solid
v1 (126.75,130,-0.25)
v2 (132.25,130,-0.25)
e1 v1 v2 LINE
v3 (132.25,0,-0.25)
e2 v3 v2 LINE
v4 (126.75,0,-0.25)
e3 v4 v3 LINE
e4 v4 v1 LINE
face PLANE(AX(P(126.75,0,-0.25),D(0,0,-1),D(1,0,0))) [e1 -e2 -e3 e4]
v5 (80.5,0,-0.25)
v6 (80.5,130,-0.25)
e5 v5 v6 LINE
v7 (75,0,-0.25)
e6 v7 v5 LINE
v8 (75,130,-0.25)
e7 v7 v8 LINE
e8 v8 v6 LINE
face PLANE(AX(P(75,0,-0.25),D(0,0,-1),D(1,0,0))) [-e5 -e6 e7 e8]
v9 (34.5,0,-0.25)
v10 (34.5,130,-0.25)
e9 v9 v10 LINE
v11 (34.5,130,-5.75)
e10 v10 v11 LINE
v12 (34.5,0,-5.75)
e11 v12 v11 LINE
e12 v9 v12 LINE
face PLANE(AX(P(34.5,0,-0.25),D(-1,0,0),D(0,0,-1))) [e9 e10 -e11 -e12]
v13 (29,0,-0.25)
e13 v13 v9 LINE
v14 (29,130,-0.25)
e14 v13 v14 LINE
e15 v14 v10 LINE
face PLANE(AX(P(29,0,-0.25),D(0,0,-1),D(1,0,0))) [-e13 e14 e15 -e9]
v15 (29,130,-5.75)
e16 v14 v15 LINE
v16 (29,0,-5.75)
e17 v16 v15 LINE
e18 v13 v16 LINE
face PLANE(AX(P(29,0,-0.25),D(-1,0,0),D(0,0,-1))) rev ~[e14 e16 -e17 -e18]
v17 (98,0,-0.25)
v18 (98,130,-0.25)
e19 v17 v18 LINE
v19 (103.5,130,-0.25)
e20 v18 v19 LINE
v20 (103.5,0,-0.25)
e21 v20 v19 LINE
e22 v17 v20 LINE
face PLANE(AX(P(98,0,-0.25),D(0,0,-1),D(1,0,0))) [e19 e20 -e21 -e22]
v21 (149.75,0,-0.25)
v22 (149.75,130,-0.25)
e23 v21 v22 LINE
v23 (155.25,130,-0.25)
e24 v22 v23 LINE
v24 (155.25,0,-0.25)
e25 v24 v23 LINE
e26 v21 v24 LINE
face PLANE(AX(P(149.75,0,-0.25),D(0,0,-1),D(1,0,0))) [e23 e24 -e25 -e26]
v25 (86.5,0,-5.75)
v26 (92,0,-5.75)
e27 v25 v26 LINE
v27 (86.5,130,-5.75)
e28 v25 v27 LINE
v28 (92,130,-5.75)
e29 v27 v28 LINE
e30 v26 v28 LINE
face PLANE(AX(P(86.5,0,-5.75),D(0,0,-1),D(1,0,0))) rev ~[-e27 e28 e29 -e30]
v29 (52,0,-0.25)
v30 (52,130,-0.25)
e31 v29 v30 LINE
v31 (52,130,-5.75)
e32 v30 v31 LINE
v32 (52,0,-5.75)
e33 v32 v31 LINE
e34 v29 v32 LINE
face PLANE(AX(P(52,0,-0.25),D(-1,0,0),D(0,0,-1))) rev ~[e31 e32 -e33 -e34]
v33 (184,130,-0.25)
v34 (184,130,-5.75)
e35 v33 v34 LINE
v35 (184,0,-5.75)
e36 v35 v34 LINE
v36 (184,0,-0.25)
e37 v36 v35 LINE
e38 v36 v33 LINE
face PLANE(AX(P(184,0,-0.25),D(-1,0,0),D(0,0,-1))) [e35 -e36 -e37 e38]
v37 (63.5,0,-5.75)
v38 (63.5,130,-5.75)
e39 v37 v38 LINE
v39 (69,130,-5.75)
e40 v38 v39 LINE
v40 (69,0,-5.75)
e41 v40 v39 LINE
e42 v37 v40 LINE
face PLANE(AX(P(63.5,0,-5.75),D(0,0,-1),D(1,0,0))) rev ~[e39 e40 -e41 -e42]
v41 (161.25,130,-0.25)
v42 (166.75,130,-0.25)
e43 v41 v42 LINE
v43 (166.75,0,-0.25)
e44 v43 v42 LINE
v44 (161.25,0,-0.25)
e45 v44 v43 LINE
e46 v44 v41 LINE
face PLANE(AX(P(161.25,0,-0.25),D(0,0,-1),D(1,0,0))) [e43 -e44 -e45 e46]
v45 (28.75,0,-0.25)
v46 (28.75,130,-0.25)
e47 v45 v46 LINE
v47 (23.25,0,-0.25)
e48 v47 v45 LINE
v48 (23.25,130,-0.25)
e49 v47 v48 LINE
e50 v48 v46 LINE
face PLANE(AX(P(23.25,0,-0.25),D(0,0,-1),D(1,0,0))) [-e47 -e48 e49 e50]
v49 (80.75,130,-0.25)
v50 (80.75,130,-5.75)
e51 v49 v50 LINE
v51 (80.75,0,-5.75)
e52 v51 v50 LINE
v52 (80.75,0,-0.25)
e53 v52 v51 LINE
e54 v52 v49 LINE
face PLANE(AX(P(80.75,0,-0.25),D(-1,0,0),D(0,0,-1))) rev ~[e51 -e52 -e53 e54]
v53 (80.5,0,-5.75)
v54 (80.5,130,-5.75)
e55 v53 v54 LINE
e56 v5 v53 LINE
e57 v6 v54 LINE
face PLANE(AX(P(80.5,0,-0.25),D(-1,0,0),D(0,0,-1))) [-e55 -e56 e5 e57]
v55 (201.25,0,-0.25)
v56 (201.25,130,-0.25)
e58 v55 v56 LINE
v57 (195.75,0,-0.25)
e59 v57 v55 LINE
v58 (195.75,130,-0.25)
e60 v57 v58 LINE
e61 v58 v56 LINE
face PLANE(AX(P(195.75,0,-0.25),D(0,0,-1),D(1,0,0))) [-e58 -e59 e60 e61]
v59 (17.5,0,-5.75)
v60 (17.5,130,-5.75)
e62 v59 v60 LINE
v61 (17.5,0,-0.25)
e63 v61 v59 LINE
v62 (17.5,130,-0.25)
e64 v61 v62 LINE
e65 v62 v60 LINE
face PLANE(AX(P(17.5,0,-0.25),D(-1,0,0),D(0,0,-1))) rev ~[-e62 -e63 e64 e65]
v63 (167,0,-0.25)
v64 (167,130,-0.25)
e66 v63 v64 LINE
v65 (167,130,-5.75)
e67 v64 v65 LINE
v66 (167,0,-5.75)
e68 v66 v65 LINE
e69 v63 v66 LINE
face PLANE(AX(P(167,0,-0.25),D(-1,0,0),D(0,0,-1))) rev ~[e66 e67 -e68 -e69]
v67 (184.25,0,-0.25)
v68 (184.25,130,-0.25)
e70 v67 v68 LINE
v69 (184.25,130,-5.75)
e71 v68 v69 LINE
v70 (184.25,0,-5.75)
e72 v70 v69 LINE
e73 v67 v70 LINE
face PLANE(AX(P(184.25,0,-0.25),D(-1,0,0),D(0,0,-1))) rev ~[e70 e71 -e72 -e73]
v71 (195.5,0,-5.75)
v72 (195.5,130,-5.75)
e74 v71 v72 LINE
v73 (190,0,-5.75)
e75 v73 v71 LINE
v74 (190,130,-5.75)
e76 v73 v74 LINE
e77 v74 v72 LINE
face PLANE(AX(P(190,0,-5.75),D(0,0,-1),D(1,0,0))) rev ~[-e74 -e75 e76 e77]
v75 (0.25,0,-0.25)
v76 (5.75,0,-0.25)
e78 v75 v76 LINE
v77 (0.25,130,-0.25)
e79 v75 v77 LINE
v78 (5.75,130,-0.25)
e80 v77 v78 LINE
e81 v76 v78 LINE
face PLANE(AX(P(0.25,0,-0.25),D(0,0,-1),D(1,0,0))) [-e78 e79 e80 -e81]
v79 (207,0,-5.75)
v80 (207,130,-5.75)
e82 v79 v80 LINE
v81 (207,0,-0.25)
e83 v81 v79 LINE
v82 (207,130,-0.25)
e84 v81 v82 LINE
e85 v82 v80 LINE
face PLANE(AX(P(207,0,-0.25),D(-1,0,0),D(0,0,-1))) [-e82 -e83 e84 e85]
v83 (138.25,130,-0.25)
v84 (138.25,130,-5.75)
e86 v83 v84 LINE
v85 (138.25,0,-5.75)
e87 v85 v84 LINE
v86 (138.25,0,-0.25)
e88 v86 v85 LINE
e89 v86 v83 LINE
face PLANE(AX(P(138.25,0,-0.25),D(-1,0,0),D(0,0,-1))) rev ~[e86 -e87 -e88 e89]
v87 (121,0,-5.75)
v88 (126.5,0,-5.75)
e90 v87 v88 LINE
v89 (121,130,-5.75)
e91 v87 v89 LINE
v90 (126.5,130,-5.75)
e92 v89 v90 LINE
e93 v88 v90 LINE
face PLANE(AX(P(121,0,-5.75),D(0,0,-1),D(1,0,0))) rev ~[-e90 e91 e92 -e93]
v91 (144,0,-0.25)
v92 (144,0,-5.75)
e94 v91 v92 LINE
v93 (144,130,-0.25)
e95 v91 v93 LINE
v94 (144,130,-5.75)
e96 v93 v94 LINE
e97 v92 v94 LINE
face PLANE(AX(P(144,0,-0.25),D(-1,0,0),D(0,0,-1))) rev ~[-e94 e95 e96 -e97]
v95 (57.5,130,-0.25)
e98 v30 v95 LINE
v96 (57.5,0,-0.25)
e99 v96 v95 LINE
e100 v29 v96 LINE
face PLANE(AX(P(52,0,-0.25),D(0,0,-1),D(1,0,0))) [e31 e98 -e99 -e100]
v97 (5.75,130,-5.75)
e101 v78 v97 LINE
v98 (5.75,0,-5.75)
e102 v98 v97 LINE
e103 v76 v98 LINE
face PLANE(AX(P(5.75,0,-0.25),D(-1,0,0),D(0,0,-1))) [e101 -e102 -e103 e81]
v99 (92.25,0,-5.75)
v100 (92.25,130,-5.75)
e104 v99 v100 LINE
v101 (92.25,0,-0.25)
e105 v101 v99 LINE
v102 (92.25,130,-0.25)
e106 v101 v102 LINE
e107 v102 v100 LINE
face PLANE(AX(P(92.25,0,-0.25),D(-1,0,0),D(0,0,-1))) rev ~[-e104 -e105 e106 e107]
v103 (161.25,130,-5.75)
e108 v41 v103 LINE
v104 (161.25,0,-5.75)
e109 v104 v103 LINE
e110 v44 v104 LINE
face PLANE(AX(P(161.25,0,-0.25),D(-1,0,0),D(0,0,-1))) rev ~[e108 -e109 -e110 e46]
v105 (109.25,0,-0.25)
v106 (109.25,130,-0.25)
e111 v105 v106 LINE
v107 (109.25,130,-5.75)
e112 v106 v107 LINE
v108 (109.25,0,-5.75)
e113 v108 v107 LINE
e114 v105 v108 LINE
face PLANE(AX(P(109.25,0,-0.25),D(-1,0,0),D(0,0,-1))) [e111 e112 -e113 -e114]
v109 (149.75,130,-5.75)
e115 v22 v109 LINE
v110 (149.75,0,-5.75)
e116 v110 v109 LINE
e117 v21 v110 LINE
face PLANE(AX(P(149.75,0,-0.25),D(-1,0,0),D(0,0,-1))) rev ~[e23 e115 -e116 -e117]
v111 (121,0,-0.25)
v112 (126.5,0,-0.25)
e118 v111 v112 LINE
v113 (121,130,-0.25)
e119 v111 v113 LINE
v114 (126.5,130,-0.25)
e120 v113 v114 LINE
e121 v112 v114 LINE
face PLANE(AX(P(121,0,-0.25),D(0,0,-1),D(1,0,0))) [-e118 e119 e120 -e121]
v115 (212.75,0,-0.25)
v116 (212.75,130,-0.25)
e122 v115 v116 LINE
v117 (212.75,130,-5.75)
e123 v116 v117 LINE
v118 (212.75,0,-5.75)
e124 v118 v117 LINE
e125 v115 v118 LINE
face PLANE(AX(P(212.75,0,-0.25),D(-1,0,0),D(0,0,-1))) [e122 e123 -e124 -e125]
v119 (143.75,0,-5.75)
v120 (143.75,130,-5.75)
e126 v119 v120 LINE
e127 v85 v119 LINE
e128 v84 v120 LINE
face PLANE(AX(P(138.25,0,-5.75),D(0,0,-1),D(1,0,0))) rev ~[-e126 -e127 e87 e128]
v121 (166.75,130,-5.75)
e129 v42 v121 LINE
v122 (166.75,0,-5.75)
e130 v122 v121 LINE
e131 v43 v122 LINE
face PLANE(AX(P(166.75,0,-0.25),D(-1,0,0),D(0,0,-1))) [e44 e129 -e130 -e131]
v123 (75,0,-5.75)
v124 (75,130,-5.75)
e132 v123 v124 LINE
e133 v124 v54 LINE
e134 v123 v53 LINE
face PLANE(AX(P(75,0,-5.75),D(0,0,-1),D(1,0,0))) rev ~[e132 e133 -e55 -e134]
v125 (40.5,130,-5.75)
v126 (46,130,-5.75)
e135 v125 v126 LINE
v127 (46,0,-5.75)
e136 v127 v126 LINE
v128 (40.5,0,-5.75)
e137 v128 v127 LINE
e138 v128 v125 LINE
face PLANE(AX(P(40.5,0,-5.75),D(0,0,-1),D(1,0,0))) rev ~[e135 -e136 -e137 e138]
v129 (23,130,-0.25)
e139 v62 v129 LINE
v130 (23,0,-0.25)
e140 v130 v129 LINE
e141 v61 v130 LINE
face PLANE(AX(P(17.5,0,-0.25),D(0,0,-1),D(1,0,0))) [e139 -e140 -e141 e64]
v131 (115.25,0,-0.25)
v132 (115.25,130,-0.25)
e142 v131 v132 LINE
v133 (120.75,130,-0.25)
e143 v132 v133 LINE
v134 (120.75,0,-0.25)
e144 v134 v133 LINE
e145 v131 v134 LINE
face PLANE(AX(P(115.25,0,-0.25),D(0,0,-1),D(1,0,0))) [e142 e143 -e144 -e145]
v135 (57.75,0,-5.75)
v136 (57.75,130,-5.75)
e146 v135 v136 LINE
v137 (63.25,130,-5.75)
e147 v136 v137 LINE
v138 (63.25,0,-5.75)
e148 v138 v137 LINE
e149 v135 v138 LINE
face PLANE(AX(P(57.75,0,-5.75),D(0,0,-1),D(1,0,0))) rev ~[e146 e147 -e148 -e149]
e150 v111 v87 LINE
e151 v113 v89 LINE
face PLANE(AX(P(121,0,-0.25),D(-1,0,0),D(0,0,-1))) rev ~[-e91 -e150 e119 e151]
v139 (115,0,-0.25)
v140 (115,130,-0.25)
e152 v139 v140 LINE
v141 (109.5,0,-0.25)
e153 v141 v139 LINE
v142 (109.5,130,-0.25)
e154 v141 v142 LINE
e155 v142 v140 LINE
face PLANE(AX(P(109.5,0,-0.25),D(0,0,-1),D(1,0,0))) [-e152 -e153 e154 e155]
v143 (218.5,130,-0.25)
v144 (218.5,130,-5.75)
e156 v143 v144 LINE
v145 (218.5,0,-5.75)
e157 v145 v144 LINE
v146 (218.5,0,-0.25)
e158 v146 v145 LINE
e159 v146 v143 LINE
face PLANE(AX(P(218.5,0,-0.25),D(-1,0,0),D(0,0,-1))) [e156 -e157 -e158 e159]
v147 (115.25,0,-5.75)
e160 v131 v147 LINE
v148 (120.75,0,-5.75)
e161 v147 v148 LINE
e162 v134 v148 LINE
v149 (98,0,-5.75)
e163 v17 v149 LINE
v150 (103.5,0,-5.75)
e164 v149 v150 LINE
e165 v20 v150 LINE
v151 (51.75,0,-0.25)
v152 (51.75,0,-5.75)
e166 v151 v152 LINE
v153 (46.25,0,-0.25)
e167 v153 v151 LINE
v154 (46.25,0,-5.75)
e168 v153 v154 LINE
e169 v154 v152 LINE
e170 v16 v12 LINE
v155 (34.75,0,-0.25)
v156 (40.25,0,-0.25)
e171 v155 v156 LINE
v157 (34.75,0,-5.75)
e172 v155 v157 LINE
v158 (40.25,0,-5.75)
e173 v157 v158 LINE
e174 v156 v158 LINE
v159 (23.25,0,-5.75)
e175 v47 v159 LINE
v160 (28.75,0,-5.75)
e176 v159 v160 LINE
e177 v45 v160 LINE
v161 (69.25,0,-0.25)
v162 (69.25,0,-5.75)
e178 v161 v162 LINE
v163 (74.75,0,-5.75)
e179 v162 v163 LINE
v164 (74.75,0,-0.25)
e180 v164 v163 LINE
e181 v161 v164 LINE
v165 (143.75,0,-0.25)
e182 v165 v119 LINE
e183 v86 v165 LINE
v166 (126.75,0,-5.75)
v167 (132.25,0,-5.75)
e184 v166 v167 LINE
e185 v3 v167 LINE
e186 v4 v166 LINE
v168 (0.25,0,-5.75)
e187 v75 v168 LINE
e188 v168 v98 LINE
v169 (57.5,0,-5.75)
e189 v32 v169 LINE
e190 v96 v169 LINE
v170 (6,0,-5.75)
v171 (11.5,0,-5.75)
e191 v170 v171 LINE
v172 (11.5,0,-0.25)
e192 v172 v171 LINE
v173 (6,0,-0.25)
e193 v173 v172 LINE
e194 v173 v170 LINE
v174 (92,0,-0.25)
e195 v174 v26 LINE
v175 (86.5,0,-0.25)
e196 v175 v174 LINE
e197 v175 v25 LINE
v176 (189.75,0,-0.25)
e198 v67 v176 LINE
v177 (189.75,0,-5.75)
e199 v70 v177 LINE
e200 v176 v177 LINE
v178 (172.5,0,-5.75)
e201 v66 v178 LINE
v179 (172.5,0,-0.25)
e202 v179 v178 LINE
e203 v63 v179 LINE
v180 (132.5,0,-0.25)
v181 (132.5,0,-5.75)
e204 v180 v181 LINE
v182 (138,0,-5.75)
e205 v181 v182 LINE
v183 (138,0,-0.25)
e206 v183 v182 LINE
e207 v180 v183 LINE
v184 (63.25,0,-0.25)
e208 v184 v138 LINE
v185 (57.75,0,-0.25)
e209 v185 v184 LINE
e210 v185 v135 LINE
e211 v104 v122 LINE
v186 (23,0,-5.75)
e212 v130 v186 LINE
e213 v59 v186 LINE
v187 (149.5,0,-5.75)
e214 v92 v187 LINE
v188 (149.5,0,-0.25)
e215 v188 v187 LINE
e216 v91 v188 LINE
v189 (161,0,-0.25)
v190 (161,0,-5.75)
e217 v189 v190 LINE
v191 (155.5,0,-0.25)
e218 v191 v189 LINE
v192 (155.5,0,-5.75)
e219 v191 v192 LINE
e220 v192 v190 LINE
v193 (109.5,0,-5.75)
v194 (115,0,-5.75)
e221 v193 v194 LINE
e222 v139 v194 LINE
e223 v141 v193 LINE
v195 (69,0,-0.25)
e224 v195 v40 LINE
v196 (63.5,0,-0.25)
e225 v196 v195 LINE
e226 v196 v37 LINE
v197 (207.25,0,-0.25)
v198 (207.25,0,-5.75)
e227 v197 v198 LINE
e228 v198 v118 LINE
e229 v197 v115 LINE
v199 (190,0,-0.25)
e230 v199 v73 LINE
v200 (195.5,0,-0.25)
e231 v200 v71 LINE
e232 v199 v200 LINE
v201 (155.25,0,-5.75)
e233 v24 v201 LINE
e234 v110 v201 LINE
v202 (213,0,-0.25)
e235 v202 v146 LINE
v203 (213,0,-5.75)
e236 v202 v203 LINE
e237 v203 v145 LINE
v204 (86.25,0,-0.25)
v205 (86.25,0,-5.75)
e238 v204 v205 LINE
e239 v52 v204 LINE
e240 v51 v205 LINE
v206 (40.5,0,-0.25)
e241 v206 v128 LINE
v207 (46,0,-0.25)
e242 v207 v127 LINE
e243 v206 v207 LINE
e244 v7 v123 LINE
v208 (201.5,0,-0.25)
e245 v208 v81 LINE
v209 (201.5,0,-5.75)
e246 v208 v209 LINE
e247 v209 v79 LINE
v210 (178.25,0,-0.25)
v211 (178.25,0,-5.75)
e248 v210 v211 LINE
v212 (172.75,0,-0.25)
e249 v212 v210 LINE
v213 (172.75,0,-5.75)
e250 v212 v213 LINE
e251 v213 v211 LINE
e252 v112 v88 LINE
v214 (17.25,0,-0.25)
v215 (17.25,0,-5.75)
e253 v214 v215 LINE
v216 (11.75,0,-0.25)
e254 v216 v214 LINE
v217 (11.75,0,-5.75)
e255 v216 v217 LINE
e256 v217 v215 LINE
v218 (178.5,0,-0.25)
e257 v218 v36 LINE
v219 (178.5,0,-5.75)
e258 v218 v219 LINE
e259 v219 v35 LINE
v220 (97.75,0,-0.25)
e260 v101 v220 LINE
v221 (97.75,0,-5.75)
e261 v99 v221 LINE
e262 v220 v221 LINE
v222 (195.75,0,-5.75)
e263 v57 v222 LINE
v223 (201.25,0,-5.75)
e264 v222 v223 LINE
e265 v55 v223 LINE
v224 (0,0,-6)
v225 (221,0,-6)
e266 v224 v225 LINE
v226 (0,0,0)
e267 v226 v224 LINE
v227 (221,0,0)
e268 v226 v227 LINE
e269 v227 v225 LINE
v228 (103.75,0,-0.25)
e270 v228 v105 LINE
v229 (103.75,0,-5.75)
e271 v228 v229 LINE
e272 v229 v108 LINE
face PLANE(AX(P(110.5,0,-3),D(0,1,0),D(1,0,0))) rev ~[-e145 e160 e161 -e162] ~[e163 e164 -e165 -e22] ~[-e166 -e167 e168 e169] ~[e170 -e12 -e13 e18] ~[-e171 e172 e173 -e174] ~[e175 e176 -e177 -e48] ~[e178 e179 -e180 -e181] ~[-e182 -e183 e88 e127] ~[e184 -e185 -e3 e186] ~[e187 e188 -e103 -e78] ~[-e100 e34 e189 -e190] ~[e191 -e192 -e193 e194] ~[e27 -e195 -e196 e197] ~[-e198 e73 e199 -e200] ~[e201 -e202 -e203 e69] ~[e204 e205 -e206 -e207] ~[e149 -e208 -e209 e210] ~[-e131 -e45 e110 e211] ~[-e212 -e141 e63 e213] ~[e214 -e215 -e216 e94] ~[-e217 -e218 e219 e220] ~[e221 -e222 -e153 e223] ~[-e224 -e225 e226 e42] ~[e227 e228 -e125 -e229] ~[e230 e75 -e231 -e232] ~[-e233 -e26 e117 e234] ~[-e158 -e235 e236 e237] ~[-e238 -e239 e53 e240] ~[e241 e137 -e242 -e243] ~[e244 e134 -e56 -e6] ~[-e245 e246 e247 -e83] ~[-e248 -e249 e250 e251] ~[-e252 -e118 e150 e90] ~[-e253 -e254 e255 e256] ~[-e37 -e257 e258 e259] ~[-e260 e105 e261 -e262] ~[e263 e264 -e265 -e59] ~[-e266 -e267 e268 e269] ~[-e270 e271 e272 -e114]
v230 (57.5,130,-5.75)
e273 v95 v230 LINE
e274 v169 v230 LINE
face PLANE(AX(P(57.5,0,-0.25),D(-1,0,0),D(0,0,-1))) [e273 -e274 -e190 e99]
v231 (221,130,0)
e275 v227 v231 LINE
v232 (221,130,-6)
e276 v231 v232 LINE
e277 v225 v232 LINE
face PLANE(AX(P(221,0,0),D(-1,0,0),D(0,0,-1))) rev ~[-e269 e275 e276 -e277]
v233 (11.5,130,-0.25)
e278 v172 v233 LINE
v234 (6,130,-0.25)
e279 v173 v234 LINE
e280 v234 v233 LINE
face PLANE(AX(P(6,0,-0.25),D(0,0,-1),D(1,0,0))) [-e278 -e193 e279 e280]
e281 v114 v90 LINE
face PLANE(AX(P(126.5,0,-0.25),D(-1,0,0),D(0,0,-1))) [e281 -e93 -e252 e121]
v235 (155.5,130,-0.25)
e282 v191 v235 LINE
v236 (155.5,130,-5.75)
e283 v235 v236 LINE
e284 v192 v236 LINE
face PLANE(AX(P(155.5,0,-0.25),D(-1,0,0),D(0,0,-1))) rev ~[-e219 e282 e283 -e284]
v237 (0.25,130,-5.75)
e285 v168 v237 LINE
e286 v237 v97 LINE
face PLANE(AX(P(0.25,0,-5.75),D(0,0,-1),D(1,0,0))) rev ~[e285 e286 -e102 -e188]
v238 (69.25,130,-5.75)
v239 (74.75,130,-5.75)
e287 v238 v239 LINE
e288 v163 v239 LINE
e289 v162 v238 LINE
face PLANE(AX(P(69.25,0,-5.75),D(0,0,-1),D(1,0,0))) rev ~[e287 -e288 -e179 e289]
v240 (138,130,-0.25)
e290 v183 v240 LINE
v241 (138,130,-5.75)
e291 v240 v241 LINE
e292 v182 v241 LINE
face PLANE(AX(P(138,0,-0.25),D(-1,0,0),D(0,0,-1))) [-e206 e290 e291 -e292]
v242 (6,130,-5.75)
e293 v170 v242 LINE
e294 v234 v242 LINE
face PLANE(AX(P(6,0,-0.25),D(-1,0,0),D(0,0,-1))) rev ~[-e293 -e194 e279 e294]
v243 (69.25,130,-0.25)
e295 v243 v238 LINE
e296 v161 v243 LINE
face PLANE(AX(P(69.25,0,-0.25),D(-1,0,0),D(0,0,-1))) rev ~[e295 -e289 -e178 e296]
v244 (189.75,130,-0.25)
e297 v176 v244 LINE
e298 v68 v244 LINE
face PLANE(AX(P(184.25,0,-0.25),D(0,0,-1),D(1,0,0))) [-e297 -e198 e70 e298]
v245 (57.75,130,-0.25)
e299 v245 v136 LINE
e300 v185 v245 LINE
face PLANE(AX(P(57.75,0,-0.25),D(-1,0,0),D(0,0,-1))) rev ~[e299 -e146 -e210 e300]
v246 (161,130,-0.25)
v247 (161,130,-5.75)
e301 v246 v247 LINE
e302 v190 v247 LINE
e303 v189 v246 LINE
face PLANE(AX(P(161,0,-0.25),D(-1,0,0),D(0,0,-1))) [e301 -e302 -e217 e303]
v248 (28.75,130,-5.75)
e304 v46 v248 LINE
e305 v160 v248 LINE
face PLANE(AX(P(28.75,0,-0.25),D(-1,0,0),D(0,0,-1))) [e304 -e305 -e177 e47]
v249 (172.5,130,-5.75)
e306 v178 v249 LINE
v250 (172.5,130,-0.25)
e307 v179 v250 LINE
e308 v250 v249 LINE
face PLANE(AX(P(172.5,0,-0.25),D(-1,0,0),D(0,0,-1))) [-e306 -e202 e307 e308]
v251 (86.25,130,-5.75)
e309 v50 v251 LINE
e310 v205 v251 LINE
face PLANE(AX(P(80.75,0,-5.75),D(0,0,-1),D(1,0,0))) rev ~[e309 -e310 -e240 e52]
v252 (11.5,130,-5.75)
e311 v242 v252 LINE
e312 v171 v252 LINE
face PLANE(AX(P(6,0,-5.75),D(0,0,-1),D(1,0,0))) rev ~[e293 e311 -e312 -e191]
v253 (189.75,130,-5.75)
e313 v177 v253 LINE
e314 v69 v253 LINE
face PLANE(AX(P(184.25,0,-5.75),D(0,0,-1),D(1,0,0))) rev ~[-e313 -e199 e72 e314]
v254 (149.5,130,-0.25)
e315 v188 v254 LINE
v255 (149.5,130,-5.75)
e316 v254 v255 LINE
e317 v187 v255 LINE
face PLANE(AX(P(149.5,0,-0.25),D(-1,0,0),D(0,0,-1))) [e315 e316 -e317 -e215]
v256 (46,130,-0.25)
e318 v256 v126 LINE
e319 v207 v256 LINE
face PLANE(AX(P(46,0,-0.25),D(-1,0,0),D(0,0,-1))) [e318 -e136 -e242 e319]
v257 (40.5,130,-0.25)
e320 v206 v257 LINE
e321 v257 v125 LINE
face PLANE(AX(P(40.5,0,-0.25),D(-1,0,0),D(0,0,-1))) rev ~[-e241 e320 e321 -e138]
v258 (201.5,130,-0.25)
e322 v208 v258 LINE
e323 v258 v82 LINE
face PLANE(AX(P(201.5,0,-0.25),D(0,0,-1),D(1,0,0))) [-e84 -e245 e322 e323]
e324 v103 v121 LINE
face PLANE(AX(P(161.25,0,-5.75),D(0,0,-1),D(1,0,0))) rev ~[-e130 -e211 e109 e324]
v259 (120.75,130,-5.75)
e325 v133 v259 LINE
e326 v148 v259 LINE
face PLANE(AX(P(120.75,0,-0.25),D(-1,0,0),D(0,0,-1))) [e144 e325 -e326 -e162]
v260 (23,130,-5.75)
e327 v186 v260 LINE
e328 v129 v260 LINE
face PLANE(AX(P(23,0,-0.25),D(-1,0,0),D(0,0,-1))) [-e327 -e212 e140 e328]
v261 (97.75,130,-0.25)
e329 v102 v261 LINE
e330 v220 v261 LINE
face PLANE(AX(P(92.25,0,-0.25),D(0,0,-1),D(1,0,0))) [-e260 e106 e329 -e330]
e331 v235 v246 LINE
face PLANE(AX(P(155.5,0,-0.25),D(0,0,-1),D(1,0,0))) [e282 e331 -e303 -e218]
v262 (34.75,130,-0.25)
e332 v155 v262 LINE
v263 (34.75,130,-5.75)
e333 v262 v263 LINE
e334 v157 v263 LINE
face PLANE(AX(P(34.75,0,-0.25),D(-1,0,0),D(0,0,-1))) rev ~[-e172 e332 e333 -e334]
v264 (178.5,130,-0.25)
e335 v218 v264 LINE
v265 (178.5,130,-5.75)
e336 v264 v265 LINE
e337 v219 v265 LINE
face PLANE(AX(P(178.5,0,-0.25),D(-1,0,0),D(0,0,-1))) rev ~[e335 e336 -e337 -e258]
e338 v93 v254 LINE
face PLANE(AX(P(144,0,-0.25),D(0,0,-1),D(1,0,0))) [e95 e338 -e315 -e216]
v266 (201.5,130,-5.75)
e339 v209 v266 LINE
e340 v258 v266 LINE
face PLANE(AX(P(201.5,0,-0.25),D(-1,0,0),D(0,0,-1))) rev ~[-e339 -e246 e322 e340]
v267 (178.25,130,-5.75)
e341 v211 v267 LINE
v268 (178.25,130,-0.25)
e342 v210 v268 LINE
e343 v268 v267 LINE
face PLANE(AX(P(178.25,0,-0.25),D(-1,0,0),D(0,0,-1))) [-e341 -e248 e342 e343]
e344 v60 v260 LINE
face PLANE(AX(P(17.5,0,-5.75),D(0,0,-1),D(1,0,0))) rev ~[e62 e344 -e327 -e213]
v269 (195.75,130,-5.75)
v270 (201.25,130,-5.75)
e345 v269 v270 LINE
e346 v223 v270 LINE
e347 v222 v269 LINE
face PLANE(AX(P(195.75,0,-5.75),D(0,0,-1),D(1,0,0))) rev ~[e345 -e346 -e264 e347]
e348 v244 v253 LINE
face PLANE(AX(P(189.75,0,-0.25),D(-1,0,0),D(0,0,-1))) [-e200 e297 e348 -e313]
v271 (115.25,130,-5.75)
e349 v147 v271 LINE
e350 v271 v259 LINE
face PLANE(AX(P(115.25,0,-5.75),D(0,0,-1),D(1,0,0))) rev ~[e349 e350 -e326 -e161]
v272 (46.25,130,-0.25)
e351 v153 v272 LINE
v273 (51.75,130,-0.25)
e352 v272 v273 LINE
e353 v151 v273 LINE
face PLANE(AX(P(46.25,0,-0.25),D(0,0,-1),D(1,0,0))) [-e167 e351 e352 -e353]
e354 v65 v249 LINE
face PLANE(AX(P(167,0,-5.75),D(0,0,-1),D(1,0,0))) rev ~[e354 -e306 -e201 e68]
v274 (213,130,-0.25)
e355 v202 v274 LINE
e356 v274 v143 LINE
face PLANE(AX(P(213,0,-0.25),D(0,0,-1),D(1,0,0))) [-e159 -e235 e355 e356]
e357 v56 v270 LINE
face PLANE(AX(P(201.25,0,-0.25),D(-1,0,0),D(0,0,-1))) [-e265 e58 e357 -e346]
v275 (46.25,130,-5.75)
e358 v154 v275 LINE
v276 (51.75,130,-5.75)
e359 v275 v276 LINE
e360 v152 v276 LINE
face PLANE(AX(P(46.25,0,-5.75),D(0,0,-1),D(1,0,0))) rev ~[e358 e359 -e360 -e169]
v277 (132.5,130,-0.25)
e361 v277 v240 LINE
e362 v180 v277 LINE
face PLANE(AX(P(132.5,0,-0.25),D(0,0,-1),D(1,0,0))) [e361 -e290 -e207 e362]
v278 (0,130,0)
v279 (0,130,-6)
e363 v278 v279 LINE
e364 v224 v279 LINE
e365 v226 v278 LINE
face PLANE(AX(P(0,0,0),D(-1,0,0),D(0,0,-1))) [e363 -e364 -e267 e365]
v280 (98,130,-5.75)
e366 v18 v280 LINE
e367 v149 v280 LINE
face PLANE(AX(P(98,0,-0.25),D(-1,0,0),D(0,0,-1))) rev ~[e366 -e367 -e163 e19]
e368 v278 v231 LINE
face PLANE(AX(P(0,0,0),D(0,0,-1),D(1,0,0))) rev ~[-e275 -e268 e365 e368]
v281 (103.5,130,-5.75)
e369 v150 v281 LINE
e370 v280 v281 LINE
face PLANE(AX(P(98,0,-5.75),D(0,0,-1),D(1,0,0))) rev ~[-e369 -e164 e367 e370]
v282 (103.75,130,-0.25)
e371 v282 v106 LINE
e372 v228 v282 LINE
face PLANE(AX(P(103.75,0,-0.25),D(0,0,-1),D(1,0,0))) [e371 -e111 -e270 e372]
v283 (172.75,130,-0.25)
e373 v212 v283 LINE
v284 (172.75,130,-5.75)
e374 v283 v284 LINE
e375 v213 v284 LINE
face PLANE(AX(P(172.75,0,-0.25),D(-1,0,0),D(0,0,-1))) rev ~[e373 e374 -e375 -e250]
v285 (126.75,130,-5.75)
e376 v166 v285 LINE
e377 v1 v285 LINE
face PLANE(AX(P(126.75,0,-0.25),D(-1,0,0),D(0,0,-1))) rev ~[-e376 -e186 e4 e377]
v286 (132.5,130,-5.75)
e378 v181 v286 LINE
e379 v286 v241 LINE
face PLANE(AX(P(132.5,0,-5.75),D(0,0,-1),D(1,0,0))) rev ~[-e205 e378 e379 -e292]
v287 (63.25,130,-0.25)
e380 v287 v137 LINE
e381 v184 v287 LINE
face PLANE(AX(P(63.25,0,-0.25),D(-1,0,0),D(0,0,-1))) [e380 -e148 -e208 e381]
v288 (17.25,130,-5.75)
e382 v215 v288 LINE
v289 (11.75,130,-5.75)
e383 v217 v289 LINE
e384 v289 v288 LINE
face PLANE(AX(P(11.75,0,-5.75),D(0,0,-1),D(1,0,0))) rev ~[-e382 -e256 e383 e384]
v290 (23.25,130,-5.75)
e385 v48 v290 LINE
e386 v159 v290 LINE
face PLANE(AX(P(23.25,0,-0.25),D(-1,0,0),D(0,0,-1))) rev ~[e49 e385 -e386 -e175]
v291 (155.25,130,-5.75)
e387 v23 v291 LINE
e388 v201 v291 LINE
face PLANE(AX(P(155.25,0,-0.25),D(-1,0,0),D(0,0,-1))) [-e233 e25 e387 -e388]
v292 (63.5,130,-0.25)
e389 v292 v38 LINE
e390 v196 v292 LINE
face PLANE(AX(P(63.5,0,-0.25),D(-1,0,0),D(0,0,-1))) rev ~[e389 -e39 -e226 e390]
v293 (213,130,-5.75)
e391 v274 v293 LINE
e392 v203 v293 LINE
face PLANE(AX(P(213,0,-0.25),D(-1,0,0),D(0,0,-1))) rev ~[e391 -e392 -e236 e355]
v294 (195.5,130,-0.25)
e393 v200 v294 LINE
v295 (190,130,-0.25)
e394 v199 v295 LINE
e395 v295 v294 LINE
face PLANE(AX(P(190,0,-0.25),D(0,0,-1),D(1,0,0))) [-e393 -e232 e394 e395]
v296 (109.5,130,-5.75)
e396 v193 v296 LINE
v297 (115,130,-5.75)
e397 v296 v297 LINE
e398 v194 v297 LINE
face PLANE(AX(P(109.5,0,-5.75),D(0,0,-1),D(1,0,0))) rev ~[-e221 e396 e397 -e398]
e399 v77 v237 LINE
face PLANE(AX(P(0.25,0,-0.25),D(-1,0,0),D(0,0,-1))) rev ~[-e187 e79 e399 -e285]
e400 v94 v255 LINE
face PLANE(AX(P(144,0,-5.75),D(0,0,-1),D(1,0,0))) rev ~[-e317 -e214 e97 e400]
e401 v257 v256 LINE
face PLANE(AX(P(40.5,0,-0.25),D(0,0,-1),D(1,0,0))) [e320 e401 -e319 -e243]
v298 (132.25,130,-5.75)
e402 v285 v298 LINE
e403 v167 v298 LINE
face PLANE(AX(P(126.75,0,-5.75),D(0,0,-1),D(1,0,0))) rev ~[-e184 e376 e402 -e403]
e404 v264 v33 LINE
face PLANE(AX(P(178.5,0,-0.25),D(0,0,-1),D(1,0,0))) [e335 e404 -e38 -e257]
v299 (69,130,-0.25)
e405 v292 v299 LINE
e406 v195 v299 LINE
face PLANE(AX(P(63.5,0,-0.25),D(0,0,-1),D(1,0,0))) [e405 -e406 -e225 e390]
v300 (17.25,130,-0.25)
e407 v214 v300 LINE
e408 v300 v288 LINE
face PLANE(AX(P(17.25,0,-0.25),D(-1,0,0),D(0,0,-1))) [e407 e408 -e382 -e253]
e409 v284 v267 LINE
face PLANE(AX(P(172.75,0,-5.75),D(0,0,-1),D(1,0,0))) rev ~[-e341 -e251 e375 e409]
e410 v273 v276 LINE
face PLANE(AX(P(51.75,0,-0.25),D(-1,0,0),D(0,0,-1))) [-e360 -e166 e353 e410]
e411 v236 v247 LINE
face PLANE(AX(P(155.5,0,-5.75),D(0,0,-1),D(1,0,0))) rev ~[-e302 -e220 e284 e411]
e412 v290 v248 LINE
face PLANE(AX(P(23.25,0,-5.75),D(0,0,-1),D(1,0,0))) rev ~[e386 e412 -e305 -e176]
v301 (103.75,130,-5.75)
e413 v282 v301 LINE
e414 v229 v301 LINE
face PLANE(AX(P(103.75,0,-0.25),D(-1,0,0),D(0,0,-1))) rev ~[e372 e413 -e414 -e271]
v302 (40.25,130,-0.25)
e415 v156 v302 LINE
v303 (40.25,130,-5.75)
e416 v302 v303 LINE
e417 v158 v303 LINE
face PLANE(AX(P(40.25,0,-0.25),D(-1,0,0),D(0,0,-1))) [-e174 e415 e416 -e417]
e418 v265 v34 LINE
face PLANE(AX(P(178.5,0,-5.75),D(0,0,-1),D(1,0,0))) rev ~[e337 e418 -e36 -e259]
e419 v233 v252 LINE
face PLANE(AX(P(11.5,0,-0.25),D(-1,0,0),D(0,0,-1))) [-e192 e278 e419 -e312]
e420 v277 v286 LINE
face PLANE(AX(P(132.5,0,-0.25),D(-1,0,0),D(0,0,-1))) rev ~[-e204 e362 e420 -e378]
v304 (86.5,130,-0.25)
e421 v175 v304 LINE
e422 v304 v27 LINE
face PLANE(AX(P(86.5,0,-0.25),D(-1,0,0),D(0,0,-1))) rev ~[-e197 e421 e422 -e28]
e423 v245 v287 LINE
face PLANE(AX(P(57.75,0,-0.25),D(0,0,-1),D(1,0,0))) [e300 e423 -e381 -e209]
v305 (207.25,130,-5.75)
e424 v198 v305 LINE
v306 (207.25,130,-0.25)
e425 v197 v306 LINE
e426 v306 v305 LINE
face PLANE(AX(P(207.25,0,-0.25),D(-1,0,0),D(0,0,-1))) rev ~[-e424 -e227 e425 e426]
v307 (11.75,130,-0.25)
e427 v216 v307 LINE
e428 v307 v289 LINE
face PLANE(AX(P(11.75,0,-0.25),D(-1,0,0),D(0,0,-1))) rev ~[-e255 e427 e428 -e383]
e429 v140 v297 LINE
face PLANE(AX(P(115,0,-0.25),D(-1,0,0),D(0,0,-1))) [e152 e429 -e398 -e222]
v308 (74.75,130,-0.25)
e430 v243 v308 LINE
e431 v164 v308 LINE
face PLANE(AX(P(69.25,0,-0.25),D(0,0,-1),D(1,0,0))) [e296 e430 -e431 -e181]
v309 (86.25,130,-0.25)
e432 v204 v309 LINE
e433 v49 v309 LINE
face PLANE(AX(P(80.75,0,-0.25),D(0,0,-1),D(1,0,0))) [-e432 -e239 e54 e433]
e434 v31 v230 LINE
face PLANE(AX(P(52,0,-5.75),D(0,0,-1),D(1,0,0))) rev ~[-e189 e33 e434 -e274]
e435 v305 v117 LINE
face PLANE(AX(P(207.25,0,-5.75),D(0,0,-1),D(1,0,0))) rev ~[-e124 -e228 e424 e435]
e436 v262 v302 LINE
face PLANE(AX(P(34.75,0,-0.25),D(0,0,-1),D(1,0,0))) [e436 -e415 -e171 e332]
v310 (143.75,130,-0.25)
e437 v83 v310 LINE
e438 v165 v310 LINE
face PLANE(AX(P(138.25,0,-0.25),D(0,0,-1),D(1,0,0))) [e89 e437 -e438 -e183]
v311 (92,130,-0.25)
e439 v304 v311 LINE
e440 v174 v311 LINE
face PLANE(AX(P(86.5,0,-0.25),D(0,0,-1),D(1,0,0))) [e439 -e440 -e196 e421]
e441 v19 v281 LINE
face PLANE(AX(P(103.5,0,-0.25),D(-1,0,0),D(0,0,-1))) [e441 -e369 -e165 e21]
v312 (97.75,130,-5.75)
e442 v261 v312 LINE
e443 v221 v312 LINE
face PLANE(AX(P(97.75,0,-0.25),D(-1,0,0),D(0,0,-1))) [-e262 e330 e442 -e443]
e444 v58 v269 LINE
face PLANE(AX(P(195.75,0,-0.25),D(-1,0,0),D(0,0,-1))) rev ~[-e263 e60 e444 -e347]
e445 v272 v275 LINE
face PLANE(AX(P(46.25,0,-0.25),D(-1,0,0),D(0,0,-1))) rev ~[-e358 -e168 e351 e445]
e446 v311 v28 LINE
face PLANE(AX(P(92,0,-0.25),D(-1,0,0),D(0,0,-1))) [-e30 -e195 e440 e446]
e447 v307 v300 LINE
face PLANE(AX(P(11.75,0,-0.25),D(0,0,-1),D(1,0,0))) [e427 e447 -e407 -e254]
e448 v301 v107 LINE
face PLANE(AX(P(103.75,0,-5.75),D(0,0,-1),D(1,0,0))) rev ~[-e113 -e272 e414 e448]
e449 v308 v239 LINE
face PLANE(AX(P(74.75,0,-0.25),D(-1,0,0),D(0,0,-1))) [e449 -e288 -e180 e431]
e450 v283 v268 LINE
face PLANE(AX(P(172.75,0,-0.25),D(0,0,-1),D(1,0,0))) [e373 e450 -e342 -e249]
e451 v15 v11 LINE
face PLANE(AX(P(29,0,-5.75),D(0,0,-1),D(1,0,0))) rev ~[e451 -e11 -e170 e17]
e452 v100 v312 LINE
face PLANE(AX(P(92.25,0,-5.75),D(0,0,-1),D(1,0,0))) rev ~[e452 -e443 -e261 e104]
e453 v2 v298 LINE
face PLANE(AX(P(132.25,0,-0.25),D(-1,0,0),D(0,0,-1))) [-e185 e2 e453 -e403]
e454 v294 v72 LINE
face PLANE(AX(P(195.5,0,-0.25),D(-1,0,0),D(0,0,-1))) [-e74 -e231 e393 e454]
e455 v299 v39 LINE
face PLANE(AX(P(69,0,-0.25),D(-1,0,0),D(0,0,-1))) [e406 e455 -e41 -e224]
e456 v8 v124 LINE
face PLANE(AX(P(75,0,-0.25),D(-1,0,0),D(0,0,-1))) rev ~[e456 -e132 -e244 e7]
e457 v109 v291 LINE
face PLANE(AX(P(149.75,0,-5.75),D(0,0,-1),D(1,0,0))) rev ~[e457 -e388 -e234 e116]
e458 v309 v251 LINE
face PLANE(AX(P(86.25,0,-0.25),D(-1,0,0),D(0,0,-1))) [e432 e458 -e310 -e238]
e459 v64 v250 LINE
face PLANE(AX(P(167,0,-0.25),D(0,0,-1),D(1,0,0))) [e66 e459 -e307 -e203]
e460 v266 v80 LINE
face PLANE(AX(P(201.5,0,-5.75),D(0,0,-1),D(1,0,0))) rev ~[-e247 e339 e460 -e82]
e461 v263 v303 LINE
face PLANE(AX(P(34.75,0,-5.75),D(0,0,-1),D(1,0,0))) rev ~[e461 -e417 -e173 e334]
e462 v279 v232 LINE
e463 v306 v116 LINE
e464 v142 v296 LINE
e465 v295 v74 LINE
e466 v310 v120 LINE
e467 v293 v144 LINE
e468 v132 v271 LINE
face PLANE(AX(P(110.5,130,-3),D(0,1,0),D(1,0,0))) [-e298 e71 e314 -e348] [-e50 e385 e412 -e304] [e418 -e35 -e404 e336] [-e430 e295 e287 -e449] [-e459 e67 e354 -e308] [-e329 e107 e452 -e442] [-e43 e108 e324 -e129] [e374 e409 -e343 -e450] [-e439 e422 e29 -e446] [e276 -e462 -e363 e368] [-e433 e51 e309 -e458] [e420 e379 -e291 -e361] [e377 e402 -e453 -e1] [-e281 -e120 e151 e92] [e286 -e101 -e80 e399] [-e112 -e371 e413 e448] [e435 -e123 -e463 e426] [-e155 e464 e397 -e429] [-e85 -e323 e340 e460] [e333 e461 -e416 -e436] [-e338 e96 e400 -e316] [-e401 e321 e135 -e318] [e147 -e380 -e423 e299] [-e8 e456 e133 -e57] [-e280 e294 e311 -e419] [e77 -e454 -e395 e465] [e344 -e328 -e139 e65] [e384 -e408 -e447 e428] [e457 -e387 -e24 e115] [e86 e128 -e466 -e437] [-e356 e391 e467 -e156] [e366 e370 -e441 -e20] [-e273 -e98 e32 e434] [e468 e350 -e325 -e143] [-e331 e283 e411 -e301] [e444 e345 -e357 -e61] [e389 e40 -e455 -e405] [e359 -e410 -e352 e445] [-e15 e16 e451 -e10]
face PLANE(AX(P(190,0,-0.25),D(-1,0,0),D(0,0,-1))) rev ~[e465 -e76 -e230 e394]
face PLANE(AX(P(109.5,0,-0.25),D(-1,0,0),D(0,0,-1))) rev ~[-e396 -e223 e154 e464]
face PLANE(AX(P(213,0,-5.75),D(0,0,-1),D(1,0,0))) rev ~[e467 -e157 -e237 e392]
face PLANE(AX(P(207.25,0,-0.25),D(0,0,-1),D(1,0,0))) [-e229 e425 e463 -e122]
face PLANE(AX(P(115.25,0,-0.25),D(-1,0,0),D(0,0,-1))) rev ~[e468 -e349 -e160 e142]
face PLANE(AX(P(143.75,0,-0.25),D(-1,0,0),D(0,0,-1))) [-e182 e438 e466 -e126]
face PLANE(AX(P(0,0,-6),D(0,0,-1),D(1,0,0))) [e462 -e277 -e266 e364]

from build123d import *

# Parameters (mm, degrees)
SKETCH1_W           = 221
SKETCH1_H           = 6
SKETCH1_W_2         = 5.5
SKETCH1_H_2         = 5.5
BOSS_EXTRUDE1_DEPTH = 130


with BuildPart() as part:
    # Sketch1 → Boss-Extrude1 (new body)
    with BuildSketch(Plane(origin=(0, 0, 0), x_dir=(1, 0, 0), z_dir=(0, 1, 0))):
        with Locations((110.5, 3)):
            Rectangle(SKETCH1_W, SKETCH1_H)
        with Locations((8.75, 3)):
            Rectangle(SKETCH1_W_2, SKETCH1_H_2, mode=Mode.SUBTRACT)
        with Locations((3, 3)):
            Rectangle(SKETCH1_W_2, SKETCH1_H_2, mode=Mode.SUBTRACT)
        with Locations((14.5, 3)):
            Rectangle(SKETCH1_W_2, SKETCH1_H_2, mode=Mode.SUBTRACT)
        with Locations((20.25, 3)):
            Rectangle(SKETCH1_W_2, SKETCH1_H_2, mode=Mode.SUBTRACT)
        with Locations((26, 3)):
            Rectangle(SKETCH1_W_2, SKETCH1_H_2, mode=Mode.SUBTRACT)
        with Locations((31.75, 3)):
            Rectangle(SKETCH1_W_2, SKETCH1_H_2, mode=Mode.SUBTRACT)
        with Locations((37.5, 3)):
            Rectangle(SKETCH1_W_2, SKETCH1_H_2, mode=Mode.SUBTRACT)
        with Locations((43.25, 3)):
            Rectangle(SKETCH1_W_2, SKETCH1_H_2, mode=Mode.SUBTRACT)
        with Locations((49, 3)):
            Rectangle(SKETCH1_W_2, SKETCH1_H_2, mode=Mode.SUBTRACT)
        with Locations((54.75, 3)):
            Rectangle(SKETCH1_W_2, SKETCH1_H_2, mode=Mode.SUBTRACT)
        with Locations((60.5, 3)):
            Rectangle(SKETCH1_W_2, SKETCH1_H_2, mode=Mode.SUBTRACT)
        with Locations((66.25, 3)):
            Rectangle(SKETCH1_W_2, SKETCH1_H_2, mode=Mode.SUBTRACT)
        with Locations((72, 3)):
            Rectangle(SKETCH1_W_2, SKETCH1_H_2, mode=Mode.SUBTRACT)
        with Locations((77.75, 3)):
            Rectangle(SKETCH1_W_2, SKETCH1_H_2, mode=Mode.SUBTRACT)
        with Locations((83.5, 3)):
            Rectangle(SKETCH1_W_2, SKETCH1_H_2, mode=Mode.SUBTRACT)
        with Locations((89.25, 3)):
            Rectangle(SKETCH1_W_2, SKETCH1_H_2, mode=Mode.SUBTRACT)
        with Locations((95, 3)):
            Rectangle(SKETCH1_W_2, SKETCH1_H_2, mode=Mode.SUBTRACT)
        with Locations((100.75, 3)):
            Rectangle(SKETCH1_W_2, SKETCH1_H_2, mode=Mode.SUBTRACT)
        with Locations((106.5, 3)):
            Rectangle(SKETCH1_W_2, SKETCH1_H_2, mode=Mode.SUBTRACT)
        with Locations((112.25, 3)):
            Rectangle(SKETCH1_W_2, SKETCH1_H_2, mode=Mode.SUBTRACT)
        with Locations((118, 3)):
            Rectangle(SKETCH1_W_2, SKETCH1_H_2, mode=Mode.SUBTRACT)
        with Locations((123.75, 3)):
            Rectangle(SKETCH1_W_2, SKETCH1_H_2, mode=Mode.SUBTRACT)
        with Locations((129.5, 3)):
            Rectangle(SKETCH1_W_2, SKETCH1_H_2, mode=Mode.SUBTRACT)
        with Locations((135.25, 3)):
            Rectangle(SKETCH1_W_2, SKETCH1_H_2, mode=Mode.SUBTRACT)
        with Locations((141, 3)):
            Rectangle(SKETCH1_W_2, SKETCH1_H_2, mode=Mode.SUBTRACT)
        with Locations((146.75, 3)):
            Rectangle(SKETCH1_W_2, SKETCH1_H_2, mode=Mode.SUBTRACT)
        with Locations((152.5, 3)):
            Rectangle(SKETCH1_W_2, SKETCH1_H_2, mode=Mode.SUBTRACT)
        with Locations((158.25, 3)):
            Rectangle(SKETCH1_W_2, SKETCH1_H_2, mode=Mode.SUBTRACT)
        with Locations((164, 3)):
            Rectangle(SKETCH1_W_2, SKETCH1_H_2, mode=Mode.SUBTRACT)
        with Locations((169.75, 3)):
            Rectangle(SKETCH1_W_2, SKETCH1_H_2, mode=Mode.SUBTRACT)
        with Locations((175.5, 3)):
            Rectangle(SKETCH1_W_2, SKETCH1_H_2, mode=Mode.SUBTRACT)
        with Locations((181.25, 3)):
            Rectangle(SKETCH1_W_2, SKETCH1_H_2, mode=Mode.SUBTRACT)
        with Locations((187, 3)):
            Rectangle(SKETCH1_W_2, SKETCH1_H_2, mode=Mode.SUBTRACT)
        with Locations((192.75, 3)):
            Rectangle(SKETCH1_W_2, SKETCH1_H_2, mode=Mode.SUBTRACT)
        with Locations((198.5, 3)):
            Rectangle(SKETCH1_W_2, SKETCH1_H_2, mode=Mode.SUBTRACT)
        with Locations((204.25, 3)):
            Rectangle(SKETCH1_W_2, SKETCH1_H_2, mode=Mode.SUBTRACT)
        with Locations((210, 3)):
            Rectangle(SKETCH1_W_2, SKETCH1_H_2, mode=Mode.SUBTRACT)
        with Locations((215.75, 3)):
            Rectangle(SKETCH1_W_2, SKETCH1_H_2, mode=Mode.SUBTRACT)
    extrude(amount=BOSS_EXTRUDE1_DEPTH)


solid = part.part
